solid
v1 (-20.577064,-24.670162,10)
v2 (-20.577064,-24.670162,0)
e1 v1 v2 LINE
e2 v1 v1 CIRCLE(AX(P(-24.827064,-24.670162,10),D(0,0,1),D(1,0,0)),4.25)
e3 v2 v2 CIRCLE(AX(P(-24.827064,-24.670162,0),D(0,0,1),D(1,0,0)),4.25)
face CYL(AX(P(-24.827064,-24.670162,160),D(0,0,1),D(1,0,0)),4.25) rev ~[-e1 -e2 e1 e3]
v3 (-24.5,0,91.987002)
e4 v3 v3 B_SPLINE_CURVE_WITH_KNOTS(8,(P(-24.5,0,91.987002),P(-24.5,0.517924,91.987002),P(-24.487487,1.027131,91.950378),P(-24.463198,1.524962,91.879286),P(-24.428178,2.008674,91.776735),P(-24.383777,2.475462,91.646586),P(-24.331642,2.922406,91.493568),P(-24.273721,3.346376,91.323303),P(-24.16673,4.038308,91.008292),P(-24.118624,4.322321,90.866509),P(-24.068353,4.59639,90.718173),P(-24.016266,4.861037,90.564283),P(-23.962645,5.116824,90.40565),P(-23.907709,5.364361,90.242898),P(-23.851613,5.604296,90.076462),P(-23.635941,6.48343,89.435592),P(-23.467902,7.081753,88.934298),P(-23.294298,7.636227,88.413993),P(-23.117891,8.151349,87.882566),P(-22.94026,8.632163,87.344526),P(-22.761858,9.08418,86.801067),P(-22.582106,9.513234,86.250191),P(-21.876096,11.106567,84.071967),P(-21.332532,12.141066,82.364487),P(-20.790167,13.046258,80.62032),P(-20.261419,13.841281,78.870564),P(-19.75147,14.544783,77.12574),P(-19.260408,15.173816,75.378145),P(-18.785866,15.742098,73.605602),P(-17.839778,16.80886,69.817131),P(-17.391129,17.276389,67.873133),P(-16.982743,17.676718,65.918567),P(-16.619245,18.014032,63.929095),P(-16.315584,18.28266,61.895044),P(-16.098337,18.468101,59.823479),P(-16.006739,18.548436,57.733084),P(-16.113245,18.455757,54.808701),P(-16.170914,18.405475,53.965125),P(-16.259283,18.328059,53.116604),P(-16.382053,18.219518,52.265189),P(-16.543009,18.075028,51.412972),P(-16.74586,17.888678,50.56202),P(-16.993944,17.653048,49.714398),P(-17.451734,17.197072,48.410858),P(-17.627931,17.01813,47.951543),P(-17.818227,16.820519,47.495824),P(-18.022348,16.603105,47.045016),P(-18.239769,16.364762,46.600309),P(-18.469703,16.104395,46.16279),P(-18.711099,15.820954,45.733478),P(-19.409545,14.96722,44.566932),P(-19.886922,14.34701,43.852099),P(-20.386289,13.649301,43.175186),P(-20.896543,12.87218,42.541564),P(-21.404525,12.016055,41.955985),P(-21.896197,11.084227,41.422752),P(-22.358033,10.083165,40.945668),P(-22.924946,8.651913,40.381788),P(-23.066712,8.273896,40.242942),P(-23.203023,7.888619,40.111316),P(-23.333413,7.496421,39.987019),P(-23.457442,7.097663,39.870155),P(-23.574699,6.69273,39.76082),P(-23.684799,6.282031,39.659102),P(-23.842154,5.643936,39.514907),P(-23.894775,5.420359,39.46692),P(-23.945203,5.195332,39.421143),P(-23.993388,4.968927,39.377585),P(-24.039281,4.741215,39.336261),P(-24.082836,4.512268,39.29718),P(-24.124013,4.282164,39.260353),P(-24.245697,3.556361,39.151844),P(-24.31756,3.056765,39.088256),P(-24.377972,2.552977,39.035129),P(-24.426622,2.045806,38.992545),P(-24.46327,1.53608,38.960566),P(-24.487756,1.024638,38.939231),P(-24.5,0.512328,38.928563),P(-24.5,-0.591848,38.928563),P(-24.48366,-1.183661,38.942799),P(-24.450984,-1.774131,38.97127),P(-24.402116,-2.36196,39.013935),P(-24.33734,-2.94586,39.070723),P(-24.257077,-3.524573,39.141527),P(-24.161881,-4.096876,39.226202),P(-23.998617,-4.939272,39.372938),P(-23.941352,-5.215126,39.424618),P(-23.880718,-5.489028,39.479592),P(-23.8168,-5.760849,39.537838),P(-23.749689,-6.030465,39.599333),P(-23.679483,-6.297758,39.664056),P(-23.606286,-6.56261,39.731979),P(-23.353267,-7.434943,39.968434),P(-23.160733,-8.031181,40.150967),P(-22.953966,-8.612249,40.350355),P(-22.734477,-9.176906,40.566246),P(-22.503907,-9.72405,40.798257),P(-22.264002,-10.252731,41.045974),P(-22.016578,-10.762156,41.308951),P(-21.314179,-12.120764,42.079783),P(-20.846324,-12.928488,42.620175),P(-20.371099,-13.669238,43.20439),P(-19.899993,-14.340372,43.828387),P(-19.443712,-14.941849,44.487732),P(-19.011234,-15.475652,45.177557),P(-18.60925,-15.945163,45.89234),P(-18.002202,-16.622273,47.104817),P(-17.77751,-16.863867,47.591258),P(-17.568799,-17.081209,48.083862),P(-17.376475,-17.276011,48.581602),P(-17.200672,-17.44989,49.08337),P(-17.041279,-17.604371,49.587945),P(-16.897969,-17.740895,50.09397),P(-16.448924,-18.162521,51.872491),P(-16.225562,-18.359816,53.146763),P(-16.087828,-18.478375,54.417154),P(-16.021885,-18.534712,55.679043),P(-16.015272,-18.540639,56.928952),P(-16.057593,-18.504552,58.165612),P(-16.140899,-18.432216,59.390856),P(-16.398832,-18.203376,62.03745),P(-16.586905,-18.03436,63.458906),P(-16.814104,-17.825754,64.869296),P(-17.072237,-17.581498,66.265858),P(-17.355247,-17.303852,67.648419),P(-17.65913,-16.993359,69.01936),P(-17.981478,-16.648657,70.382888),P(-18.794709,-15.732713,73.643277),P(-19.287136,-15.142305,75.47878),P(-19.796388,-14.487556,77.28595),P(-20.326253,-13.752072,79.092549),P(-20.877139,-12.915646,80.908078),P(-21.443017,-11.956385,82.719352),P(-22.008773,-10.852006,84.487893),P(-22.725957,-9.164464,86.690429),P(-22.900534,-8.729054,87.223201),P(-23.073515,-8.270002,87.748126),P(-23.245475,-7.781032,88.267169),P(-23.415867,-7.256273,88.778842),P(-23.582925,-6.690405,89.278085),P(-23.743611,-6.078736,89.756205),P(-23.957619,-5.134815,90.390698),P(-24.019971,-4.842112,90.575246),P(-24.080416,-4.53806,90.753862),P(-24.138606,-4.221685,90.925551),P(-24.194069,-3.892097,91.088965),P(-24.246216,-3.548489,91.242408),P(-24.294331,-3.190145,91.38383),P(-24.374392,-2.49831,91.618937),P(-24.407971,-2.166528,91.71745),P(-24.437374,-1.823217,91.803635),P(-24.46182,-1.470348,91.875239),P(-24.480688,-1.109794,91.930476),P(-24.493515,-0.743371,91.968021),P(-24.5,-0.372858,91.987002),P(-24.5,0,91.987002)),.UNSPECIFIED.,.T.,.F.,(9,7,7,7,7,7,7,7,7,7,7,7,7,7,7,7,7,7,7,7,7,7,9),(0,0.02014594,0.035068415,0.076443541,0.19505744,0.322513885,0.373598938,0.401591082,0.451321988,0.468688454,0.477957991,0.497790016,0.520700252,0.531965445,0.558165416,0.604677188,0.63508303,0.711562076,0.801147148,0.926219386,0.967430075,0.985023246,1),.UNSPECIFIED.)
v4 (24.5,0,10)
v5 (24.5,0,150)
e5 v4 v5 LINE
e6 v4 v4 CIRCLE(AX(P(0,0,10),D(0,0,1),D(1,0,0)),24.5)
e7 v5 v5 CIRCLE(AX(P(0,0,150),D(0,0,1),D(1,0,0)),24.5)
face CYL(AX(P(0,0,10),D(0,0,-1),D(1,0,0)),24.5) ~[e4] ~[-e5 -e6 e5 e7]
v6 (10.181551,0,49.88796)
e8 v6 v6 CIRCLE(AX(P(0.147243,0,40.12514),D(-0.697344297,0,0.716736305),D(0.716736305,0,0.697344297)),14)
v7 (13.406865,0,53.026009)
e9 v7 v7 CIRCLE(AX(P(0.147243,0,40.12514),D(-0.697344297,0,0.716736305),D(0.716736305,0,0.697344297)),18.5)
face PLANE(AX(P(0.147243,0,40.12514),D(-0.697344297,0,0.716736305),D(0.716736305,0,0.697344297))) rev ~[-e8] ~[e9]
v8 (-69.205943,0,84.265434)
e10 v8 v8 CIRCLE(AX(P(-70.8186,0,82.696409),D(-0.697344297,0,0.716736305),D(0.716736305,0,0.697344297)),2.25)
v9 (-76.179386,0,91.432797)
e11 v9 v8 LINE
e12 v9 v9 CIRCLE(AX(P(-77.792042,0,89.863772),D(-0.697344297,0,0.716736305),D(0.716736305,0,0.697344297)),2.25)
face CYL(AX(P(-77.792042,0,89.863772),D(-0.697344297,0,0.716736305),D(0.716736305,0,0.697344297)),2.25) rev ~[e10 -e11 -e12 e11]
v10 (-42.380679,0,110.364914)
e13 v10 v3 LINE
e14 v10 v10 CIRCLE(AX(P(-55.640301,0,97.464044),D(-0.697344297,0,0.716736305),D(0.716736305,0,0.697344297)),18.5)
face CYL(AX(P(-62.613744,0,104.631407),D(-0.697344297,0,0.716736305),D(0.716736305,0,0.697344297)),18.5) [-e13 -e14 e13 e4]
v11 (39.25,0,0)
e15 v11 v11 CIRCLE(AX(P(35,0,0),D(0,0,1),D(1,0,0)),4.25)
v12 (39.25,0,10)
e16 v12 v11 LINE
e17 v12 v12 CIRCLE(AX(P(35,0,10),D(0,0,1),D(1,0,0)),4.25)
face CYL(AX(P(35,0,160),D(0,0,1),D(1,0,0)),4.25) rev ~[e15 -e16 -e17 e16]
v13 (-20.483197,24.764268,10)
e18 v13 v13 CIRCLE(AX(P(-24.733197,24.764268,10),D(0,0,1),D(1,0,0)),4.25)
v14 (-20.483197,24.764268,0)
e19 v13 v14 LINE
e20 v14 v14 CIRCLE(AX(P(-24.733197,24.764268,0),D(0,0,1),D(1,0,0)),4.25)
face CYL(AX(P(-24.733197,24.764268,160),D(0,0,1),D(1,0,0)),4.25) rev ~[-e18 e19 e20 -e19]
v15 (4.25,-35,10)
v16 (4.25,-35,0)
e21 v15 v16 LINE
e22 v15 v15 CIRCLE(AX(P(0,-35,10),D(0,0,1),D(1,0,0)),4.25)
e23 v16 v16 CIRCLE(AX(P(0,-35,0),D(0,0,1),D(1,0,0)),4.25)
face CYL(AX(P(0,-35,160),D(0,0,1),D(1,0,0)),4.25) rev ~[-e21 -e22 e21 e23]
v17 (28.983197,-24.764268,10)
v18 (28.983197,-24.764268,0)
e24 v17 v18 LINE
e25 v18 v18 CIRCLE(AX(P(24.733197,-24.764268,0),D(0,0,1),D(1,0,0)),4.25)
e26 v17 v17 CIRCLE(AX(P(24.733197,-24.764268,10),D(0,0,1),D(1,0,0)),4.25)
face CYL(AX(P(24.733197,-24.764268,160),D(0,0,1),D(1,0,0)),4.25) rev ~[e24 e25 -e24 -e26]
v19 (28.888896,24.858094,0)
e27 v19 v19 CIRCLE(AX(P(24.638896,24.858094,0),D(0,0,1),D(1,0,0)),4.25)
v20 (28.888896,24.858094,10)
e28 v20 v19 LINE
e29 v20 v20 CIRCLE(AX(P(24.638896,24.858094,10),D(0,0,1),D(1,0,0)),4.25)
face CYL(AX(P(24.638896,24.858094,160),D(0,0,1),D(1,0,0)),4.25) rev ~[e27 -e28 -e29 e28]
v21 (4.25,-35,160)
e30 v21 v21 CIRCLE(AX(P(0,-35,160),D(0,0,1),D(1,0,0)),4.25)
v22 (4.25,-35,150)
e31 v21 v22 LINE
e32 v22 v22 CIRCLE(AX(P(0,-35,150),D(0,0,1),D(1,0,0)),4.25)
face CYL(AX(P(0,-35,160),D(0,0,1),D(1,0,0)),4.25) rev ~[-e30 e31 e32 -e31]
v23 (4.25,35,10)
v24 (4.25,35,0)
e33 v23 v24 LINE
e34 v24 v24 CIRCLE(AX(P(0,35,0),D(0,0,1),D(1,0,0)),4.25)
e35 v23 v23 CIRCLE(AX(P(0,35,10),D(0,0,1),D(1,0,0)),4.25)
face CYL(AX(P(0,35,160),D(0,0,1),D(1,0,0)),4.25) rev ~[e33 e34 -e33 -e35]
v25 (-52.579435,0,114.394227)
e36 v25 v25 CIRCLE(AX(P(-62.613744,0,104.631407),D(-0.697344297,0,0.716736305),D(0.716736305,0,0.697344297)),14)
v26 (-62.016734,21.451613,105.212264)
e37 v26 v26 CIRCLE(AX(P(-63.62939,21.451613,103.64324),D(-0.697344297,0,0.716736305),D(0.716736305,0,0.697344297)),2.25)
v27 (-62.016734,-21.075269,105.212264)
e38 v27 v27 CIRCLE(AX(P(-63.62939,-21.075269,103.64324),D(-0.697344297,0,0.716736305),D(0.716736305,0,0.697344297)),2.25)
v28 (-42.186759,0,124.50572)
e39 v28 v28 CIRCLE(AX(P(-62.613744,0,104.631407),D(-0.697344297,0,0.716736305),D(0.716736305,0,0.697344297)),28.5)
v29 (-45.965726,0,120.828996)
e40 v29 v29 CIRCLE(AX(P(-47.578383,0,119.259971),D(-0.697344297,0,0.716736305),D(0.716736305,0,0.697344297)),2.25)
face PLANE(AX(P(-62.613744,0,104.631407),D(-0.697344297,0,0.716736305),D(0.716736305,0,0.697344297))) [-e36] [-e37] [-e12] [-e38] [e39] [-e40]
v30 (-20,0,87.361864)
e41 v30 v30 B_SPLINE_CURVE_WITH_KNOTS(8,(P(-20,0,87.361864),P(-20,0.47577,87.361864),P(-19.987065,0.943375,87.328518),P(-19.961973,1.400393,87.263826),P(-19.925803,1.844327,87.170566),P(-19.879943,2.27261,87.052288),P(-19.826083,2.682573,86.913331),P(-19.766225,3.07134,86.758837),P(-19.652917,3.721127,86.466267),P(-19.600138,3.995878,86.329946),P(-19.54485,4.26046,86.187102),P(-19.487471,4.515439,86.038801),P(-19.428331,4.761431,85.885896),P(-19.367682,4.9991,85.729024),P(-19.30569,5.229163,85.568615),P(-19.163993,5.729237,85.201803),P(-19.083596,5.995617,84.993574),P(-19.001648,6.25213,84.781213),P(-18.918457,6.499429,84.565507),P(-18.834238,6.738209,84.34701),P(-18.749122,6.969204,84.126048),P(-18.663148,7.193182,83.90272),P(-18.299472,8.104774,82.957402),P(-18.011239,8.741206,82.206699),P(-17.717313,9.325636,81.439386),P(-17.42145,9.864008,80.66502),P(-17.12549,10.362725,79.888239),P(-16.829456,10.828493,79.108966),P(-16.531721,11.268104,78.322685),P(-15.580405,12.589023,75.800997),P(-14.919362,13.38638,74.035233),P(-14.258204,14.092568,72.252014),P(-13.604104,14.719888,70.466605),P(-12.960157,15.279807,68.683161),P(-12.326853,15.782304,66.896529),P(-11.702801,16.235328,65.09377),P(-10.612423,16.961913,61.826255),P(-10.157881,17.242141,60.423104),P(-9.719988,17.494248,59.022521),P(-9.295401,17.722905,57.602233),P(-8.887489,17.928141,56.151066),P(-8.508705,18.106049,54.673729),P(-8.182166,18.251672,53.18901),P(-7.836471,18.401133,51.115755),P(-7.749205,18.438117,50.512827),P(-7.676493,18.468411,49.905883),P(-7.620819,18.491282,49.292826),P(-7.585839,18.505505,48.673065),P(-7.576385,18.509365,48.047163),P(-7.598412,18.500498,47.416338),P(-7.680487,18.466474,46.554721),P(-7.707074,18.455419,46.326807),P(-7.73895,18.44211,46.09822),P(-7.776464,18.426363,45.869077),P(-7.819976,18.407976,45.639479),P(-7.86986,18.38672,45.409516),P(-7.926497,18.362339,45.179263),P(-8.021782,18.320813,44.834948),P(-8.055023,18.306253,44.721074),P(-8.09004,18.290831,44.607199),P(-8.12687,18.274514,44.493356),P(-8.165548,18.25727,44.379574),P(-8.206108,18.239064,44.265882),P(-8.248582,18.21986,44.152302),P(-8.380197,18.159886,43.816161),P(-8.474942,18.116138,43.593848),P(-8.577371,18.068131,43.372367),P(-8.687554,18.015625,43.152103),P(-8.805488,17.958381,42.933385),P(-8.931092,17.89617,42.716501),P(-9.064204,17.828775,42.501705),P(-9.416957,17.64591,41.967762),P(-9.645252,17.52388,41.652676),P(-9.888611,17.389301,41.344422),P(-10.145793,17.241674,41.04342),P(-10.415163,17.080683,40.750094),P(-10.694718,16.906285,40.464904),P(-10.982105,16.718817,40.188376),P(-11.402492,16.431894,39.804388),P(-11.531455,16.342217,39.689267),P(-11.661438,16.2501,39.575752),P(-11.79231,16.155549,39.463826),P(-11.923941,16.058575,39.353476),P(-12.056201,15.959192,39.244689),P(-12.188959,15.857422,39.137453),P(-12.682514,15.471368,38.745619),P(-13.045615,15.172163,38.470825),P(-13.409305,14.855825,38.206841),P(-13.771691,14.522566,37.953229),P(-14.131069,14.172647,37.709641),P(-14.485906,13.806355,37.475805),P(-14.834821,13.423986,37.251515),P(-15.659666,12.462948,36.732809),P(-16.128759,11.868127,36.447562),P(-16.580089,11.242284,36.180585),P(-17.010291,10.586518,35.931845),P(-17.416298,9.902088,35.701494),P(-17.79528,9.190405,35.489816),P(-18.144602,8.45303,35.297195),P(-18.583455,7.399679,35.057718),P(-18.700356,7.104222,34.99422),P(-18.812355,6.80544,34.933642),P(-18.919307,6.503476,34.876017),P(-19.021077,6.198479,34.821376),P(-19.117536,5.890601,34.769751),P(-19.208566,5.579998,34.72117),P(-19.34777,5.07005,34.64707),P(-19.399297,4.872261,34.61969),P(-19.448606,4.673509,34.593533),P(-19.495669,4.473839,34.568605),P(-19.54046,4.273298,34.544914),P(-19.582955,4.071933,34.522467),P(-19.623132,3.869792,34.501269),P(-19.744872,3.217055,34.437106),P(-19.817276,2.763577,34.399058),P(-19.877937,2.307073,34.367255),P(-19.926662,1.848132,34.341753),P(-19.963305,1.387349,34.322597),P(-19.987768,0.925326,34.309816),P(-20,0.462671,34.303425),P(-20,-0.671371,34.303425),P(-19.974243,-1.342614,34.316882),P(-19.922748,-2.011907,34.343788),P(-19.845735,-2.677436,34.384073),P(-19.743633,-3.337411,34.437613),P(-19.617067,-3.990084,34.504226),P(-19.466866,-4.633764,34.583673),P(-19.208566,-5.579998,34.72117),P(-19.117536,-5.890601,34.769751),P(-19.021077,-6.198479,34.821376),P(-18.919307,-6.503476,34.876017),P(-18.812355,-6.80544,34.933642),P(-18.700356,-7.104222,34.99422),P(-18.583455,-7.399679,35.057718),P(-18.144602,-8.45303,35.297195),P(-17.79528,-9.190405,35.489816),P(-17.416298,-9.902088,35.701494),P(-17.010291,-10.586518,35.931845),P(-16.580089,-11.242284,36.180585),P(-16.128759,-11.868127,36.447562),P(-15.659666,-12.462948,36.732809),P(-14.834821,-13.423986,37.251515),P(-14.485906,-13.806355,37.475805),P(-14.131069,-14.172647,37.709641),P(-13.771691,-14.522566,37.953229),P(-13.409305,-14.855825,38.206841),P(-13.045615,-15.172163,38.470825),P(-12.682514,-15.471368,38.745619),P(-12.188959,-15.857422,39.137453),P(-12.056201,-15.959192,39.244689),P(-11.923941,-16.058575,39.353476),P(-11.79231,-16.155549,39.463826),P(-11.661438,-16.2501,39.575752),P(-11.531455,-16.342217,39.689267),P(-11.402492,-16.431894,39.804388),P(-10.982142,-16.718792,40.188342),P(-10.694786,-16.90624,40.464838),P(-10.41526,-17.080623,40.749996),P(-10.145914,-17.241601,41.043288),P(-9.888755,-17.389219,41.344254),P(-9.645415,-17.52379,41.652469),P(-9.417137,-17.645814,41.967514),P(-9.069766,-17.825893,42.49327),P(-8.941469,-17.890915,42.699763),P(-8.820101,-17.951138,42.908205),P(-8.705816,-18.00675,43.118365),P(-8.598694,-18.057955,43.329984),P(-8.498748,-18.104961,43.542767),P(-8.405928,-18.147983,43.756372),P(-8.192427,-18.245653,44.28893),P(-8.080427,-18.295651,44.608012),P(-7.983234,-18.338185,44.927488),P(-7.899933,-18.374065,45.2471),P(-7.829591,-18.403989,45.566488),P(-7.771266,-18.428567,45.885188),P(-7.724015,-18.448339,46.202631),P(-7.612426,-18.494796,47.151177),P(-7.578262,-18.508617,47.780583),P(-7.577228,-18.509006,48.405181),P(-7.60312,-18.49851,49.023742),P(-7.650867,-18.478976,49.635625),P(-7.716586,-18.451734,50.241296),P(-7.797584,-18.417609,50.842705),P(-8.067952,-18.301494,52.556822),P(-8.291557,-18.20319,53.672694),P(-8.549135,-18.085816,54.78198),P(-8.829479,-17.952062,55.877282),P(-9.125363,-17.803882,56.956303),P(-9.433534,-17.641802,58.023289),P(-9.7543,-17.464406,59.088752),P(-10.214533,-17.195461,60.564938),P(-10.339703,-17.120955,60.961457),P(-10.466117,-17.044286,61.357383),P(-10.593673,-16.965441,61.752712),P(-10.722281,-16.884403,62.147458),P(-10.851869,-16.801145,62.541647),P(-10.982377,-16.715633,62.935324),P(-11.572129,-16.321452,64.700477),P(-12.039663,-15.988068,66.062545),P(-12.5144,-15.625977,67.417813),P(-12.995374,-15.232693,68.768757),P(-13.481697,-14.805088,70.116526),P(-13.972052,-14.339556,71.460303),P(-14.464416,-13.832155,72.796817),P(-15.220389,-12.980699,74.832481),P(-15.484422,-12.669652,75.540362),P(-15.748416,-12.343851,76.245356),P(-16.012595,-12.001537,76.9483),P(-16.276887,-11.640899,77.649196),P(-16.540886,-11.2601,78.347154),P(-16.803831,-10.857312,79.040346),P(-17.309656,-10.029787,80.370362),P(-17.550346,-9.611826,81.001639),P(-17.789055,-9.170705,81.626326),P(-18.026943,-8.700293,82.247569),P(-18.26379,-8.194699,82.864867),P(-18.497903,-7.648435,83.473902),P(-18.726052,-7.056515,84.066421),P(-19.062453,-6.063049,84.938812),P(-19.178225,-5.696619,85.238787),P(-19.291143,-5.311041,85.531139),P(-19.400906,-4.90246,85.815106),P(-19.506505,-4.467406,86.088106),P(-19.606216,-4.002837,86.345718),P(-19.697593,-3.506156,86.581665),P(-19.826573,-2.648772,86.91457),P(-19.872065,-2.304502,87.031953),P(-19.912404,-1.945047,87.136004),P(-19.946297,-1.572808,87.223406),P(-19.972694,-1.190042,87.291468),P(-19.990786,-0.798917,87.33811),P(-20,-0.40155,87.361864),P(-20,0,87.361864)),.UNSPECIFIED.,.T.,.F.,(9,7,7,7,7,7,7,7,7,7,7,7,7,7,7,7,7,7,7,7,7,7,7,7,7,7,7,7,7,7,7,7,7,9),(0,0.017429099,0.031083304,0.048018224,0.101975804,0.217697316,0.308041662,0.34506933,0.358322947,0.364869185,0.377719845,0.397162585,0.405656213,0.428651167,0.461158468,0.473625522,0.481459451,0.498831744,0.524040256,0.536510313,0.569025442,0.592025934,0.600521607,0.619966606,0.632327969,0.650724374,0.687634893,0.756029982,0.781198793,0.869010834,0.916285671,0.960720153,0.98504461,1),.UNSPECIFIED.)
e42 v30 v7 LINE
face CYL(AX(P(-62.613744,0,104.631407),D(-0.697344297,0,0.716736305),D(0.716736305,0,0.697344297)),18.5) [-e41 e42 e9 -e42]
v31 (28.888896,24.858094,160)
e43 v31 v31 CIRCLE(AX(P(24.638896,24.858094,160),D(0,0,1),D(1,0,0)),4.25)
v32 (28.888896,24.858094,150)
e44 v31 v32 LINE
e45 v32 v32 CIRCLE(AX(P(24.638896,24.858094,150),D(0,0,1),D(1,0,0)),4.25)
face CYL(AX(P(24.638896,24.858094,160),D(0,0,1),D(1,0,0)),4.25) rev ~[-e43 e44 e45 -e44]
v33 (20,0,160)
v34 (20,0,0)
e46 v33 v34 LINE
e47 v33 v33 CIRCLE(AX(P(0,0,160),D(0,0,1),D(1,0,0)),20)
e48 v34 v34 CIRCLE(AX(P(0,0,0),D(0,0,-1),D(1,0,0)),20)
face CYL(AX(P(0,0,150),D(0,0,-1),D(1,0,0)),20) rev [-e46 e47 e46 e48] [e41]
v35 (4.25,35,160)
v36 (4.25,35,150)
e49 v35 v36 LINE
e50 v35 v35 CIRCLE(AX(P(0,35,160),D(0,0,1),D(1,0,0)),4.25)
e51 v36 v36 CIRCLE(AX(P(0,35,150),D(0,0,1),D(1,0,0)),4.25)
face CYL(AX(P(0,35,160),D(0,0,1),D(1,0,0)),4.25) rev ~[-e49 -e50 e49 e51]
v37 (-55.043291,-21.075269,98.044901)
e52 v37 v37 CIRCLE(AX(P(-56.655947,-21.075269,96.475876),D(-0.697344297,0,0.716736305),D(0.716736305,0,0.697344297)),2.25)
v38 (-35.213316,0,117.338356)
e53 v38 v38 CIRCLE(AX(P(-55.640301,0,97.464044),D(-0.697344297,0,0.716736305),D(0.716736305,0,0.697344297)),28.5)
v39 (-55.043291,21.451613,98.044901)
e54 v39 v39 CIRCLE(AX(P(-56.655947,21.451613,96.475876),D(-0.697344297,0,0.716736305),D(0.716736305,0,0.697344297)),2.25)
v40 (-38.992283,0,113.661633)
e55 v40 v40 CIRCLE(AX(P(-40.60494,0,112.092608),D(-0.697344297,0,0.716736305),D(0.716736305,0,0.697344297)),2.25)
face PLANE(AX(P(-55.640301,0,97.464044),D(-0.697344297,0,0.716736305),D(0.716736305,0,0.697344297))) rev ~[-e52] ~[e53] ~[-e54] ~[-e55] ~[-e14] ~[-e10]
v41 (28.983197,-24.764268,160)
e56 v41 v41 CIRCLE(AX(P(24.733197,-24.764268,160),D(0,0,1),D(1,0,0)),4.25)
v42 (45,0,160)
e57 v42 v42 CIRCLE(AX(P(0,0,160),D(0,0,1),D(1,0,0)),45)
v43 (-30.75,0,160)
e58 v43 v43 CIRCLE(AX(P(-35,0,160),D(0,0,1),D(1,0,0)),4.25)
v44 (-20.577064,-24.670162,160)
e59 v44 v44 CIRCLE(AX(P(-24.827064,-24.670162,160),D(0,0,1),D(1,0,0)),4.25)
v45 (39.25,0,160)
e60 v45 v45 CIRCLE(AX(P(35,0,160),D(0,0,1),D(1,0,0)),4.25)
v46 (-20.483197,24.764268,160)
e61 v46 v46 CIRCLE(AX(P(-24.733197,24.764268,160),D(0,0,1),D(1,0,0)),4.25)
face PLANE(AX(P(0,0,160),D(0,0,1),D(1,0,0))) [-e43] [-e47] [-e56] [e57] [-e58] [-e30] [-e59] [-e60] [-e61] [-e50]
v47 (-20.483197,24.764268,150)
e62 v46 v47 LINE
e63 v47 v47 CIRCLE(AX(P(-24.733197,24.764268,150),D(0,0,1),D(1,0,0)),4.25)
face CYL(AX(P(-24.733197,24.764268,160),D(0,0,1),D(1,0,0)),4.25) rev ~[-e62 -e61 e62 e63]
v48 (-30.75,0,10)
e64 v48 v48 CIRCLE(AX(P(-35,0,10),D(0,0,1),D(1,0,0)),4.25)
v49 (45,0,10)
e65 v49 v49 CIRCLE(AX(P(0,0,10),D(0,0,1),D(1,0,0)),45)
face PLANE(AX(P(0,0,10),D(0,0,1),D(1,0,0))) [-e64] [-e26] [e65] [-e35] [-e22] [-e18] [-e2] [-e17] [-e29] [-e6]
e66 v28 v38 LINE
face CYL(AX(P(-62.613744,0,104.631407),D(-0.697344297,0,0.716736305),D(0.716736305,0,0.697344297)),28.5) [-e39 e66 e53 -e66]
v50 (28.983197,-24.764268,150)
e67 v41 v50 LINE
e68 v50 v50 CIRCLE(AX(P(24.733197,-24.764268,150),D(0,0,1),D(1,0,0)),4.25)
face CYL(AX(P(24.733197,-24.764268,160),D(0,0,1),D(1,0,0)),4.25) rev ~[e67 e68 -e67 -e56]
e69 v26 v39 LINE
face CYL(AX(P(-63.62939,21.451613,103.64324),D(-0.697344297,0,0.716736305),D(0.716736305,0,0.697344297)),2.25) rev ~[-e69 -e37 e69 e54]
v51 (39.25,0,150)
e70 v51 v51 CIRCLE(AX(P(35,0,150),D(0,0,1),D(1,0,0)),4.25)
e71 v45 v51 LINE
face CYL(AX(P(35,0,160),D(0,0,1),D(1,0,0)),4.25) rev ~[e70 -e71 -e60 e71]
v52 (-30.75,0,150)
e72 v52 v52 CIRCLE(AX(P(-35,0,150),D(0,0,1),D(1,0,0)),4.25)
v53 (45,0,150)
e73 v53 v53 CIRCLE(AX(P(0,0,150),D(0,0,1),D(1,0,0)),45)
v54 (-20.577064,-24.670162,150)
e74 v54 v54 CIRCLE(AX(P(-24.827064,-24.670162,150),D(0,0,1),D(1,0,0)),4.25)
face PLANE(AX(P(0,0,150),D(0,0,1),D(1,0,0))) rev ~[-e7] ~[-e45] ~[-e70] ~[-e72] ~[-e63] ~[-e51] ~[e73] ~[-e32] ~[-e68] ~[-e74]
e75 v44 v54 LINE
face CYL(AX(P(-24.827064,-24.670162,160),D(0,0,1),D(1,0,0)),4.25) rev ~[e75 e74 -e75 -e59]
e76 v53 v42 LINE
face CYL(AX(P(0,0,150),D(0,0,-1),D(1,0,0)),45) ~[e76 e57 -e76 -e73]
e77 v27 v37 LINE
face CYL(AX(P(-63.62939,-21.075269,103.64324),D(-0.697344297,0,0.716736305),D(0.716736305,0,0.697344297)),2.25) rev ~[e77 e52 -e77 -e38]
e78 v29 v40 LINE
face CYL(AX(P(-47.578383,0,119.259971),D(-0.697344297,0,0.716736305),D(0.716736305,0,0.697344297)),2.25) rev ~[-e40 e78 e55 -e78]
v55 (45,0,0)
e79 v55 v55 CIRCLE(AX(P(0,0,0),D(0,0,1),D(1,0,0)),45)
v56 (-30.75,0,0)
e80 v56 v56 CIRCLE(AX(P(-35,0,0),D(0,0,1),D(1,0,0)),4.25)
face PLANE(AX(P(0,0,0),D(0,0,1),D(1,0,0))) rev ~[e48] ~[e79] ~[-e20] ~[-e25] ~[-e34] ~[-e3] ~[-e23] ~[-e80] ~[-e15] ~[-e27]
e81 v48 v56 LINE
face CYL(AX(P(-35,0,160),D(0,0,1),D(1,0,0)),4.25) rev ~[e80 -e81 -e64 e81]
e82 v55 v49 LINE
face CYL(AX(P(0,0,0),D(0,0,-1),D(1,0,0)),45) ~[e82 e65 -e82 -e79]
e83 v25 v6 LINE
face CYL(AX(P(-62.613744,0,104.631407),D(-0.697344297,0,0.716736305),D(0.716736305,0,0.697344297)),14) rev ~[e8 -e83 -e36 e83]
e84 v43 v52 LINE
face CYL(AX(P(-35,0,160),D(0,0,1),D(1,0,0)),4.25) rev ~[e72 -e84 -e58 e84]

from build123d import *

# Parameters (mm, degrees)
F0_R      = 45
F1_DEPTH  = 10
F2_R      = 24.5
F2_R_2    = 20
F3_DEPTH  = 140
F4_R      = 20
F5_DEPTH  = 150.001
F6_R      = 45
F6_R_2    = 20
F7_DEPTH  = 10
F8_R      = 4.25
F9_DEPTH  = 160.001
F12_R     = 18.5
F13_DEPTH = 90
F14_R     = 28.5
F15_DEPTH = 10
F16_R     = 14
F17_DEPTH = 90
F18_R     = 2.25
F19_DEPTH = 12


with BuildPart() as f1:
    # F0 (on Top) → F1 (new body)
    with BuildSketch(Plane.XY):
        Circle(F0_R)
    extrude(amount=F1_DEPTH)

    # F2 (on face) → F3 (join)
    with BuildSketch(Plane.XY.offset(10)):
        Circle(F2_R)
        Circle(F2_R_2, mode=Mode.SUBTRACT)
    extrude(amount=F3_DEPTH)

    # F4 (on face) → F5 (cut, through all)
    with BuildSketch(Plane(origin=(0, 0, 0), x_dir=(1, 0, 0), z_dir=(0, 0, -1))):
        Circle(F4_R)
    extrude(amount=-F5_DEPTH, mode=Mode.SUBTRACT)

    # F6 (on face) → F7 (join)
    with BuildSketch(Plane.XY.offset(150)):
        Circle(F6_R)
        Circle(F6_R_2, mode=Mode.SUBTRACT)
    extrude(amount=F7_DEPTH)

    # F8 (on face) → F9 (cut, through all)
    with BuildSketch(Plane.XY.offset(160)):
        with Locations((0, 35)):
            Circle(F8_R)
        with Locations((0, -35)):
            Circle(F8_R)
        with Locations((35, 0)):
            Circle(F8_R)
        with Locations((-35, 0)):
            Circle(F8_R)
        with Locations((-24.733197, 24.764268)):
            Circle(F8_R)
        with Locations((24.733197, -24.764268)):
            Circle(F8_R)
        with Locations((-24.827064, -24.670162)):
            Circle(F8_R)
        with Locations((24.638896, 24.858094)):
            Circle(F8_R)
    extrude(amount=-F9_DEPTH, mode=Mode.SUBTRACT)

    # F12 (on face) → F13 (join)
    with BuildSketch(Plane(origin=(-82.744423, 0, 85.045383), x_dir=(0.716736, 0, 0.697344), z_dir=(-0.697344, 0, 0.716736))):
        with Locations((28.086591, 0)):
            Circle(F12_R)
    extrude(amount=-F13_DEPTH)

    # F14 (on face) → F15 (join)
    with BuildSketch(Plane(origin=(-82.744423, 0, 85.045383), x_dir=(0.716736, 0, 0.697344), z_dir=(-0.697344, 0, 0.716736))):
        with Locations((28.086591, 0)):
            Circle(F14_R)
    extrude(amount=-F15_DEPTH)

    # F16 (on face) → F17 (cut)
    with BuildSketch(Plane(origin=(-82.744423, 0, 85.045383), x_dir=(0.716736, 0, 0.697344), z_dir=(-0.697344, 0, 0.716736))):
        with Locations((28.086591, 0)):
            Circle(F16_R)
    extrude(amount=-F17_DEPTH, mode=Mode.SUBTRACT)

    # F18 (on face) → F19 (cut)
    with BuildSketch(Plane(origin=(-82.744423, 0, 85.045383), x_dir=(0.716736, 0, 0.697344), z_dir=(-0.697344, 0, 0.716736))):
        with Locations((26.669547, 21.451613)):
            Circle(F18_R)
        with Locations((6.909627, 0)):
            Circle(F18_R)
        with Locations((26.669547, -21.075269)):
            Circle(F18_R)
        with Locations((49.064126, 0)):
            Circle(F18_R)
    extrude(amount=-F19_DEPTH, mode=Mode.SUBTRACT)


solid = f1.part
